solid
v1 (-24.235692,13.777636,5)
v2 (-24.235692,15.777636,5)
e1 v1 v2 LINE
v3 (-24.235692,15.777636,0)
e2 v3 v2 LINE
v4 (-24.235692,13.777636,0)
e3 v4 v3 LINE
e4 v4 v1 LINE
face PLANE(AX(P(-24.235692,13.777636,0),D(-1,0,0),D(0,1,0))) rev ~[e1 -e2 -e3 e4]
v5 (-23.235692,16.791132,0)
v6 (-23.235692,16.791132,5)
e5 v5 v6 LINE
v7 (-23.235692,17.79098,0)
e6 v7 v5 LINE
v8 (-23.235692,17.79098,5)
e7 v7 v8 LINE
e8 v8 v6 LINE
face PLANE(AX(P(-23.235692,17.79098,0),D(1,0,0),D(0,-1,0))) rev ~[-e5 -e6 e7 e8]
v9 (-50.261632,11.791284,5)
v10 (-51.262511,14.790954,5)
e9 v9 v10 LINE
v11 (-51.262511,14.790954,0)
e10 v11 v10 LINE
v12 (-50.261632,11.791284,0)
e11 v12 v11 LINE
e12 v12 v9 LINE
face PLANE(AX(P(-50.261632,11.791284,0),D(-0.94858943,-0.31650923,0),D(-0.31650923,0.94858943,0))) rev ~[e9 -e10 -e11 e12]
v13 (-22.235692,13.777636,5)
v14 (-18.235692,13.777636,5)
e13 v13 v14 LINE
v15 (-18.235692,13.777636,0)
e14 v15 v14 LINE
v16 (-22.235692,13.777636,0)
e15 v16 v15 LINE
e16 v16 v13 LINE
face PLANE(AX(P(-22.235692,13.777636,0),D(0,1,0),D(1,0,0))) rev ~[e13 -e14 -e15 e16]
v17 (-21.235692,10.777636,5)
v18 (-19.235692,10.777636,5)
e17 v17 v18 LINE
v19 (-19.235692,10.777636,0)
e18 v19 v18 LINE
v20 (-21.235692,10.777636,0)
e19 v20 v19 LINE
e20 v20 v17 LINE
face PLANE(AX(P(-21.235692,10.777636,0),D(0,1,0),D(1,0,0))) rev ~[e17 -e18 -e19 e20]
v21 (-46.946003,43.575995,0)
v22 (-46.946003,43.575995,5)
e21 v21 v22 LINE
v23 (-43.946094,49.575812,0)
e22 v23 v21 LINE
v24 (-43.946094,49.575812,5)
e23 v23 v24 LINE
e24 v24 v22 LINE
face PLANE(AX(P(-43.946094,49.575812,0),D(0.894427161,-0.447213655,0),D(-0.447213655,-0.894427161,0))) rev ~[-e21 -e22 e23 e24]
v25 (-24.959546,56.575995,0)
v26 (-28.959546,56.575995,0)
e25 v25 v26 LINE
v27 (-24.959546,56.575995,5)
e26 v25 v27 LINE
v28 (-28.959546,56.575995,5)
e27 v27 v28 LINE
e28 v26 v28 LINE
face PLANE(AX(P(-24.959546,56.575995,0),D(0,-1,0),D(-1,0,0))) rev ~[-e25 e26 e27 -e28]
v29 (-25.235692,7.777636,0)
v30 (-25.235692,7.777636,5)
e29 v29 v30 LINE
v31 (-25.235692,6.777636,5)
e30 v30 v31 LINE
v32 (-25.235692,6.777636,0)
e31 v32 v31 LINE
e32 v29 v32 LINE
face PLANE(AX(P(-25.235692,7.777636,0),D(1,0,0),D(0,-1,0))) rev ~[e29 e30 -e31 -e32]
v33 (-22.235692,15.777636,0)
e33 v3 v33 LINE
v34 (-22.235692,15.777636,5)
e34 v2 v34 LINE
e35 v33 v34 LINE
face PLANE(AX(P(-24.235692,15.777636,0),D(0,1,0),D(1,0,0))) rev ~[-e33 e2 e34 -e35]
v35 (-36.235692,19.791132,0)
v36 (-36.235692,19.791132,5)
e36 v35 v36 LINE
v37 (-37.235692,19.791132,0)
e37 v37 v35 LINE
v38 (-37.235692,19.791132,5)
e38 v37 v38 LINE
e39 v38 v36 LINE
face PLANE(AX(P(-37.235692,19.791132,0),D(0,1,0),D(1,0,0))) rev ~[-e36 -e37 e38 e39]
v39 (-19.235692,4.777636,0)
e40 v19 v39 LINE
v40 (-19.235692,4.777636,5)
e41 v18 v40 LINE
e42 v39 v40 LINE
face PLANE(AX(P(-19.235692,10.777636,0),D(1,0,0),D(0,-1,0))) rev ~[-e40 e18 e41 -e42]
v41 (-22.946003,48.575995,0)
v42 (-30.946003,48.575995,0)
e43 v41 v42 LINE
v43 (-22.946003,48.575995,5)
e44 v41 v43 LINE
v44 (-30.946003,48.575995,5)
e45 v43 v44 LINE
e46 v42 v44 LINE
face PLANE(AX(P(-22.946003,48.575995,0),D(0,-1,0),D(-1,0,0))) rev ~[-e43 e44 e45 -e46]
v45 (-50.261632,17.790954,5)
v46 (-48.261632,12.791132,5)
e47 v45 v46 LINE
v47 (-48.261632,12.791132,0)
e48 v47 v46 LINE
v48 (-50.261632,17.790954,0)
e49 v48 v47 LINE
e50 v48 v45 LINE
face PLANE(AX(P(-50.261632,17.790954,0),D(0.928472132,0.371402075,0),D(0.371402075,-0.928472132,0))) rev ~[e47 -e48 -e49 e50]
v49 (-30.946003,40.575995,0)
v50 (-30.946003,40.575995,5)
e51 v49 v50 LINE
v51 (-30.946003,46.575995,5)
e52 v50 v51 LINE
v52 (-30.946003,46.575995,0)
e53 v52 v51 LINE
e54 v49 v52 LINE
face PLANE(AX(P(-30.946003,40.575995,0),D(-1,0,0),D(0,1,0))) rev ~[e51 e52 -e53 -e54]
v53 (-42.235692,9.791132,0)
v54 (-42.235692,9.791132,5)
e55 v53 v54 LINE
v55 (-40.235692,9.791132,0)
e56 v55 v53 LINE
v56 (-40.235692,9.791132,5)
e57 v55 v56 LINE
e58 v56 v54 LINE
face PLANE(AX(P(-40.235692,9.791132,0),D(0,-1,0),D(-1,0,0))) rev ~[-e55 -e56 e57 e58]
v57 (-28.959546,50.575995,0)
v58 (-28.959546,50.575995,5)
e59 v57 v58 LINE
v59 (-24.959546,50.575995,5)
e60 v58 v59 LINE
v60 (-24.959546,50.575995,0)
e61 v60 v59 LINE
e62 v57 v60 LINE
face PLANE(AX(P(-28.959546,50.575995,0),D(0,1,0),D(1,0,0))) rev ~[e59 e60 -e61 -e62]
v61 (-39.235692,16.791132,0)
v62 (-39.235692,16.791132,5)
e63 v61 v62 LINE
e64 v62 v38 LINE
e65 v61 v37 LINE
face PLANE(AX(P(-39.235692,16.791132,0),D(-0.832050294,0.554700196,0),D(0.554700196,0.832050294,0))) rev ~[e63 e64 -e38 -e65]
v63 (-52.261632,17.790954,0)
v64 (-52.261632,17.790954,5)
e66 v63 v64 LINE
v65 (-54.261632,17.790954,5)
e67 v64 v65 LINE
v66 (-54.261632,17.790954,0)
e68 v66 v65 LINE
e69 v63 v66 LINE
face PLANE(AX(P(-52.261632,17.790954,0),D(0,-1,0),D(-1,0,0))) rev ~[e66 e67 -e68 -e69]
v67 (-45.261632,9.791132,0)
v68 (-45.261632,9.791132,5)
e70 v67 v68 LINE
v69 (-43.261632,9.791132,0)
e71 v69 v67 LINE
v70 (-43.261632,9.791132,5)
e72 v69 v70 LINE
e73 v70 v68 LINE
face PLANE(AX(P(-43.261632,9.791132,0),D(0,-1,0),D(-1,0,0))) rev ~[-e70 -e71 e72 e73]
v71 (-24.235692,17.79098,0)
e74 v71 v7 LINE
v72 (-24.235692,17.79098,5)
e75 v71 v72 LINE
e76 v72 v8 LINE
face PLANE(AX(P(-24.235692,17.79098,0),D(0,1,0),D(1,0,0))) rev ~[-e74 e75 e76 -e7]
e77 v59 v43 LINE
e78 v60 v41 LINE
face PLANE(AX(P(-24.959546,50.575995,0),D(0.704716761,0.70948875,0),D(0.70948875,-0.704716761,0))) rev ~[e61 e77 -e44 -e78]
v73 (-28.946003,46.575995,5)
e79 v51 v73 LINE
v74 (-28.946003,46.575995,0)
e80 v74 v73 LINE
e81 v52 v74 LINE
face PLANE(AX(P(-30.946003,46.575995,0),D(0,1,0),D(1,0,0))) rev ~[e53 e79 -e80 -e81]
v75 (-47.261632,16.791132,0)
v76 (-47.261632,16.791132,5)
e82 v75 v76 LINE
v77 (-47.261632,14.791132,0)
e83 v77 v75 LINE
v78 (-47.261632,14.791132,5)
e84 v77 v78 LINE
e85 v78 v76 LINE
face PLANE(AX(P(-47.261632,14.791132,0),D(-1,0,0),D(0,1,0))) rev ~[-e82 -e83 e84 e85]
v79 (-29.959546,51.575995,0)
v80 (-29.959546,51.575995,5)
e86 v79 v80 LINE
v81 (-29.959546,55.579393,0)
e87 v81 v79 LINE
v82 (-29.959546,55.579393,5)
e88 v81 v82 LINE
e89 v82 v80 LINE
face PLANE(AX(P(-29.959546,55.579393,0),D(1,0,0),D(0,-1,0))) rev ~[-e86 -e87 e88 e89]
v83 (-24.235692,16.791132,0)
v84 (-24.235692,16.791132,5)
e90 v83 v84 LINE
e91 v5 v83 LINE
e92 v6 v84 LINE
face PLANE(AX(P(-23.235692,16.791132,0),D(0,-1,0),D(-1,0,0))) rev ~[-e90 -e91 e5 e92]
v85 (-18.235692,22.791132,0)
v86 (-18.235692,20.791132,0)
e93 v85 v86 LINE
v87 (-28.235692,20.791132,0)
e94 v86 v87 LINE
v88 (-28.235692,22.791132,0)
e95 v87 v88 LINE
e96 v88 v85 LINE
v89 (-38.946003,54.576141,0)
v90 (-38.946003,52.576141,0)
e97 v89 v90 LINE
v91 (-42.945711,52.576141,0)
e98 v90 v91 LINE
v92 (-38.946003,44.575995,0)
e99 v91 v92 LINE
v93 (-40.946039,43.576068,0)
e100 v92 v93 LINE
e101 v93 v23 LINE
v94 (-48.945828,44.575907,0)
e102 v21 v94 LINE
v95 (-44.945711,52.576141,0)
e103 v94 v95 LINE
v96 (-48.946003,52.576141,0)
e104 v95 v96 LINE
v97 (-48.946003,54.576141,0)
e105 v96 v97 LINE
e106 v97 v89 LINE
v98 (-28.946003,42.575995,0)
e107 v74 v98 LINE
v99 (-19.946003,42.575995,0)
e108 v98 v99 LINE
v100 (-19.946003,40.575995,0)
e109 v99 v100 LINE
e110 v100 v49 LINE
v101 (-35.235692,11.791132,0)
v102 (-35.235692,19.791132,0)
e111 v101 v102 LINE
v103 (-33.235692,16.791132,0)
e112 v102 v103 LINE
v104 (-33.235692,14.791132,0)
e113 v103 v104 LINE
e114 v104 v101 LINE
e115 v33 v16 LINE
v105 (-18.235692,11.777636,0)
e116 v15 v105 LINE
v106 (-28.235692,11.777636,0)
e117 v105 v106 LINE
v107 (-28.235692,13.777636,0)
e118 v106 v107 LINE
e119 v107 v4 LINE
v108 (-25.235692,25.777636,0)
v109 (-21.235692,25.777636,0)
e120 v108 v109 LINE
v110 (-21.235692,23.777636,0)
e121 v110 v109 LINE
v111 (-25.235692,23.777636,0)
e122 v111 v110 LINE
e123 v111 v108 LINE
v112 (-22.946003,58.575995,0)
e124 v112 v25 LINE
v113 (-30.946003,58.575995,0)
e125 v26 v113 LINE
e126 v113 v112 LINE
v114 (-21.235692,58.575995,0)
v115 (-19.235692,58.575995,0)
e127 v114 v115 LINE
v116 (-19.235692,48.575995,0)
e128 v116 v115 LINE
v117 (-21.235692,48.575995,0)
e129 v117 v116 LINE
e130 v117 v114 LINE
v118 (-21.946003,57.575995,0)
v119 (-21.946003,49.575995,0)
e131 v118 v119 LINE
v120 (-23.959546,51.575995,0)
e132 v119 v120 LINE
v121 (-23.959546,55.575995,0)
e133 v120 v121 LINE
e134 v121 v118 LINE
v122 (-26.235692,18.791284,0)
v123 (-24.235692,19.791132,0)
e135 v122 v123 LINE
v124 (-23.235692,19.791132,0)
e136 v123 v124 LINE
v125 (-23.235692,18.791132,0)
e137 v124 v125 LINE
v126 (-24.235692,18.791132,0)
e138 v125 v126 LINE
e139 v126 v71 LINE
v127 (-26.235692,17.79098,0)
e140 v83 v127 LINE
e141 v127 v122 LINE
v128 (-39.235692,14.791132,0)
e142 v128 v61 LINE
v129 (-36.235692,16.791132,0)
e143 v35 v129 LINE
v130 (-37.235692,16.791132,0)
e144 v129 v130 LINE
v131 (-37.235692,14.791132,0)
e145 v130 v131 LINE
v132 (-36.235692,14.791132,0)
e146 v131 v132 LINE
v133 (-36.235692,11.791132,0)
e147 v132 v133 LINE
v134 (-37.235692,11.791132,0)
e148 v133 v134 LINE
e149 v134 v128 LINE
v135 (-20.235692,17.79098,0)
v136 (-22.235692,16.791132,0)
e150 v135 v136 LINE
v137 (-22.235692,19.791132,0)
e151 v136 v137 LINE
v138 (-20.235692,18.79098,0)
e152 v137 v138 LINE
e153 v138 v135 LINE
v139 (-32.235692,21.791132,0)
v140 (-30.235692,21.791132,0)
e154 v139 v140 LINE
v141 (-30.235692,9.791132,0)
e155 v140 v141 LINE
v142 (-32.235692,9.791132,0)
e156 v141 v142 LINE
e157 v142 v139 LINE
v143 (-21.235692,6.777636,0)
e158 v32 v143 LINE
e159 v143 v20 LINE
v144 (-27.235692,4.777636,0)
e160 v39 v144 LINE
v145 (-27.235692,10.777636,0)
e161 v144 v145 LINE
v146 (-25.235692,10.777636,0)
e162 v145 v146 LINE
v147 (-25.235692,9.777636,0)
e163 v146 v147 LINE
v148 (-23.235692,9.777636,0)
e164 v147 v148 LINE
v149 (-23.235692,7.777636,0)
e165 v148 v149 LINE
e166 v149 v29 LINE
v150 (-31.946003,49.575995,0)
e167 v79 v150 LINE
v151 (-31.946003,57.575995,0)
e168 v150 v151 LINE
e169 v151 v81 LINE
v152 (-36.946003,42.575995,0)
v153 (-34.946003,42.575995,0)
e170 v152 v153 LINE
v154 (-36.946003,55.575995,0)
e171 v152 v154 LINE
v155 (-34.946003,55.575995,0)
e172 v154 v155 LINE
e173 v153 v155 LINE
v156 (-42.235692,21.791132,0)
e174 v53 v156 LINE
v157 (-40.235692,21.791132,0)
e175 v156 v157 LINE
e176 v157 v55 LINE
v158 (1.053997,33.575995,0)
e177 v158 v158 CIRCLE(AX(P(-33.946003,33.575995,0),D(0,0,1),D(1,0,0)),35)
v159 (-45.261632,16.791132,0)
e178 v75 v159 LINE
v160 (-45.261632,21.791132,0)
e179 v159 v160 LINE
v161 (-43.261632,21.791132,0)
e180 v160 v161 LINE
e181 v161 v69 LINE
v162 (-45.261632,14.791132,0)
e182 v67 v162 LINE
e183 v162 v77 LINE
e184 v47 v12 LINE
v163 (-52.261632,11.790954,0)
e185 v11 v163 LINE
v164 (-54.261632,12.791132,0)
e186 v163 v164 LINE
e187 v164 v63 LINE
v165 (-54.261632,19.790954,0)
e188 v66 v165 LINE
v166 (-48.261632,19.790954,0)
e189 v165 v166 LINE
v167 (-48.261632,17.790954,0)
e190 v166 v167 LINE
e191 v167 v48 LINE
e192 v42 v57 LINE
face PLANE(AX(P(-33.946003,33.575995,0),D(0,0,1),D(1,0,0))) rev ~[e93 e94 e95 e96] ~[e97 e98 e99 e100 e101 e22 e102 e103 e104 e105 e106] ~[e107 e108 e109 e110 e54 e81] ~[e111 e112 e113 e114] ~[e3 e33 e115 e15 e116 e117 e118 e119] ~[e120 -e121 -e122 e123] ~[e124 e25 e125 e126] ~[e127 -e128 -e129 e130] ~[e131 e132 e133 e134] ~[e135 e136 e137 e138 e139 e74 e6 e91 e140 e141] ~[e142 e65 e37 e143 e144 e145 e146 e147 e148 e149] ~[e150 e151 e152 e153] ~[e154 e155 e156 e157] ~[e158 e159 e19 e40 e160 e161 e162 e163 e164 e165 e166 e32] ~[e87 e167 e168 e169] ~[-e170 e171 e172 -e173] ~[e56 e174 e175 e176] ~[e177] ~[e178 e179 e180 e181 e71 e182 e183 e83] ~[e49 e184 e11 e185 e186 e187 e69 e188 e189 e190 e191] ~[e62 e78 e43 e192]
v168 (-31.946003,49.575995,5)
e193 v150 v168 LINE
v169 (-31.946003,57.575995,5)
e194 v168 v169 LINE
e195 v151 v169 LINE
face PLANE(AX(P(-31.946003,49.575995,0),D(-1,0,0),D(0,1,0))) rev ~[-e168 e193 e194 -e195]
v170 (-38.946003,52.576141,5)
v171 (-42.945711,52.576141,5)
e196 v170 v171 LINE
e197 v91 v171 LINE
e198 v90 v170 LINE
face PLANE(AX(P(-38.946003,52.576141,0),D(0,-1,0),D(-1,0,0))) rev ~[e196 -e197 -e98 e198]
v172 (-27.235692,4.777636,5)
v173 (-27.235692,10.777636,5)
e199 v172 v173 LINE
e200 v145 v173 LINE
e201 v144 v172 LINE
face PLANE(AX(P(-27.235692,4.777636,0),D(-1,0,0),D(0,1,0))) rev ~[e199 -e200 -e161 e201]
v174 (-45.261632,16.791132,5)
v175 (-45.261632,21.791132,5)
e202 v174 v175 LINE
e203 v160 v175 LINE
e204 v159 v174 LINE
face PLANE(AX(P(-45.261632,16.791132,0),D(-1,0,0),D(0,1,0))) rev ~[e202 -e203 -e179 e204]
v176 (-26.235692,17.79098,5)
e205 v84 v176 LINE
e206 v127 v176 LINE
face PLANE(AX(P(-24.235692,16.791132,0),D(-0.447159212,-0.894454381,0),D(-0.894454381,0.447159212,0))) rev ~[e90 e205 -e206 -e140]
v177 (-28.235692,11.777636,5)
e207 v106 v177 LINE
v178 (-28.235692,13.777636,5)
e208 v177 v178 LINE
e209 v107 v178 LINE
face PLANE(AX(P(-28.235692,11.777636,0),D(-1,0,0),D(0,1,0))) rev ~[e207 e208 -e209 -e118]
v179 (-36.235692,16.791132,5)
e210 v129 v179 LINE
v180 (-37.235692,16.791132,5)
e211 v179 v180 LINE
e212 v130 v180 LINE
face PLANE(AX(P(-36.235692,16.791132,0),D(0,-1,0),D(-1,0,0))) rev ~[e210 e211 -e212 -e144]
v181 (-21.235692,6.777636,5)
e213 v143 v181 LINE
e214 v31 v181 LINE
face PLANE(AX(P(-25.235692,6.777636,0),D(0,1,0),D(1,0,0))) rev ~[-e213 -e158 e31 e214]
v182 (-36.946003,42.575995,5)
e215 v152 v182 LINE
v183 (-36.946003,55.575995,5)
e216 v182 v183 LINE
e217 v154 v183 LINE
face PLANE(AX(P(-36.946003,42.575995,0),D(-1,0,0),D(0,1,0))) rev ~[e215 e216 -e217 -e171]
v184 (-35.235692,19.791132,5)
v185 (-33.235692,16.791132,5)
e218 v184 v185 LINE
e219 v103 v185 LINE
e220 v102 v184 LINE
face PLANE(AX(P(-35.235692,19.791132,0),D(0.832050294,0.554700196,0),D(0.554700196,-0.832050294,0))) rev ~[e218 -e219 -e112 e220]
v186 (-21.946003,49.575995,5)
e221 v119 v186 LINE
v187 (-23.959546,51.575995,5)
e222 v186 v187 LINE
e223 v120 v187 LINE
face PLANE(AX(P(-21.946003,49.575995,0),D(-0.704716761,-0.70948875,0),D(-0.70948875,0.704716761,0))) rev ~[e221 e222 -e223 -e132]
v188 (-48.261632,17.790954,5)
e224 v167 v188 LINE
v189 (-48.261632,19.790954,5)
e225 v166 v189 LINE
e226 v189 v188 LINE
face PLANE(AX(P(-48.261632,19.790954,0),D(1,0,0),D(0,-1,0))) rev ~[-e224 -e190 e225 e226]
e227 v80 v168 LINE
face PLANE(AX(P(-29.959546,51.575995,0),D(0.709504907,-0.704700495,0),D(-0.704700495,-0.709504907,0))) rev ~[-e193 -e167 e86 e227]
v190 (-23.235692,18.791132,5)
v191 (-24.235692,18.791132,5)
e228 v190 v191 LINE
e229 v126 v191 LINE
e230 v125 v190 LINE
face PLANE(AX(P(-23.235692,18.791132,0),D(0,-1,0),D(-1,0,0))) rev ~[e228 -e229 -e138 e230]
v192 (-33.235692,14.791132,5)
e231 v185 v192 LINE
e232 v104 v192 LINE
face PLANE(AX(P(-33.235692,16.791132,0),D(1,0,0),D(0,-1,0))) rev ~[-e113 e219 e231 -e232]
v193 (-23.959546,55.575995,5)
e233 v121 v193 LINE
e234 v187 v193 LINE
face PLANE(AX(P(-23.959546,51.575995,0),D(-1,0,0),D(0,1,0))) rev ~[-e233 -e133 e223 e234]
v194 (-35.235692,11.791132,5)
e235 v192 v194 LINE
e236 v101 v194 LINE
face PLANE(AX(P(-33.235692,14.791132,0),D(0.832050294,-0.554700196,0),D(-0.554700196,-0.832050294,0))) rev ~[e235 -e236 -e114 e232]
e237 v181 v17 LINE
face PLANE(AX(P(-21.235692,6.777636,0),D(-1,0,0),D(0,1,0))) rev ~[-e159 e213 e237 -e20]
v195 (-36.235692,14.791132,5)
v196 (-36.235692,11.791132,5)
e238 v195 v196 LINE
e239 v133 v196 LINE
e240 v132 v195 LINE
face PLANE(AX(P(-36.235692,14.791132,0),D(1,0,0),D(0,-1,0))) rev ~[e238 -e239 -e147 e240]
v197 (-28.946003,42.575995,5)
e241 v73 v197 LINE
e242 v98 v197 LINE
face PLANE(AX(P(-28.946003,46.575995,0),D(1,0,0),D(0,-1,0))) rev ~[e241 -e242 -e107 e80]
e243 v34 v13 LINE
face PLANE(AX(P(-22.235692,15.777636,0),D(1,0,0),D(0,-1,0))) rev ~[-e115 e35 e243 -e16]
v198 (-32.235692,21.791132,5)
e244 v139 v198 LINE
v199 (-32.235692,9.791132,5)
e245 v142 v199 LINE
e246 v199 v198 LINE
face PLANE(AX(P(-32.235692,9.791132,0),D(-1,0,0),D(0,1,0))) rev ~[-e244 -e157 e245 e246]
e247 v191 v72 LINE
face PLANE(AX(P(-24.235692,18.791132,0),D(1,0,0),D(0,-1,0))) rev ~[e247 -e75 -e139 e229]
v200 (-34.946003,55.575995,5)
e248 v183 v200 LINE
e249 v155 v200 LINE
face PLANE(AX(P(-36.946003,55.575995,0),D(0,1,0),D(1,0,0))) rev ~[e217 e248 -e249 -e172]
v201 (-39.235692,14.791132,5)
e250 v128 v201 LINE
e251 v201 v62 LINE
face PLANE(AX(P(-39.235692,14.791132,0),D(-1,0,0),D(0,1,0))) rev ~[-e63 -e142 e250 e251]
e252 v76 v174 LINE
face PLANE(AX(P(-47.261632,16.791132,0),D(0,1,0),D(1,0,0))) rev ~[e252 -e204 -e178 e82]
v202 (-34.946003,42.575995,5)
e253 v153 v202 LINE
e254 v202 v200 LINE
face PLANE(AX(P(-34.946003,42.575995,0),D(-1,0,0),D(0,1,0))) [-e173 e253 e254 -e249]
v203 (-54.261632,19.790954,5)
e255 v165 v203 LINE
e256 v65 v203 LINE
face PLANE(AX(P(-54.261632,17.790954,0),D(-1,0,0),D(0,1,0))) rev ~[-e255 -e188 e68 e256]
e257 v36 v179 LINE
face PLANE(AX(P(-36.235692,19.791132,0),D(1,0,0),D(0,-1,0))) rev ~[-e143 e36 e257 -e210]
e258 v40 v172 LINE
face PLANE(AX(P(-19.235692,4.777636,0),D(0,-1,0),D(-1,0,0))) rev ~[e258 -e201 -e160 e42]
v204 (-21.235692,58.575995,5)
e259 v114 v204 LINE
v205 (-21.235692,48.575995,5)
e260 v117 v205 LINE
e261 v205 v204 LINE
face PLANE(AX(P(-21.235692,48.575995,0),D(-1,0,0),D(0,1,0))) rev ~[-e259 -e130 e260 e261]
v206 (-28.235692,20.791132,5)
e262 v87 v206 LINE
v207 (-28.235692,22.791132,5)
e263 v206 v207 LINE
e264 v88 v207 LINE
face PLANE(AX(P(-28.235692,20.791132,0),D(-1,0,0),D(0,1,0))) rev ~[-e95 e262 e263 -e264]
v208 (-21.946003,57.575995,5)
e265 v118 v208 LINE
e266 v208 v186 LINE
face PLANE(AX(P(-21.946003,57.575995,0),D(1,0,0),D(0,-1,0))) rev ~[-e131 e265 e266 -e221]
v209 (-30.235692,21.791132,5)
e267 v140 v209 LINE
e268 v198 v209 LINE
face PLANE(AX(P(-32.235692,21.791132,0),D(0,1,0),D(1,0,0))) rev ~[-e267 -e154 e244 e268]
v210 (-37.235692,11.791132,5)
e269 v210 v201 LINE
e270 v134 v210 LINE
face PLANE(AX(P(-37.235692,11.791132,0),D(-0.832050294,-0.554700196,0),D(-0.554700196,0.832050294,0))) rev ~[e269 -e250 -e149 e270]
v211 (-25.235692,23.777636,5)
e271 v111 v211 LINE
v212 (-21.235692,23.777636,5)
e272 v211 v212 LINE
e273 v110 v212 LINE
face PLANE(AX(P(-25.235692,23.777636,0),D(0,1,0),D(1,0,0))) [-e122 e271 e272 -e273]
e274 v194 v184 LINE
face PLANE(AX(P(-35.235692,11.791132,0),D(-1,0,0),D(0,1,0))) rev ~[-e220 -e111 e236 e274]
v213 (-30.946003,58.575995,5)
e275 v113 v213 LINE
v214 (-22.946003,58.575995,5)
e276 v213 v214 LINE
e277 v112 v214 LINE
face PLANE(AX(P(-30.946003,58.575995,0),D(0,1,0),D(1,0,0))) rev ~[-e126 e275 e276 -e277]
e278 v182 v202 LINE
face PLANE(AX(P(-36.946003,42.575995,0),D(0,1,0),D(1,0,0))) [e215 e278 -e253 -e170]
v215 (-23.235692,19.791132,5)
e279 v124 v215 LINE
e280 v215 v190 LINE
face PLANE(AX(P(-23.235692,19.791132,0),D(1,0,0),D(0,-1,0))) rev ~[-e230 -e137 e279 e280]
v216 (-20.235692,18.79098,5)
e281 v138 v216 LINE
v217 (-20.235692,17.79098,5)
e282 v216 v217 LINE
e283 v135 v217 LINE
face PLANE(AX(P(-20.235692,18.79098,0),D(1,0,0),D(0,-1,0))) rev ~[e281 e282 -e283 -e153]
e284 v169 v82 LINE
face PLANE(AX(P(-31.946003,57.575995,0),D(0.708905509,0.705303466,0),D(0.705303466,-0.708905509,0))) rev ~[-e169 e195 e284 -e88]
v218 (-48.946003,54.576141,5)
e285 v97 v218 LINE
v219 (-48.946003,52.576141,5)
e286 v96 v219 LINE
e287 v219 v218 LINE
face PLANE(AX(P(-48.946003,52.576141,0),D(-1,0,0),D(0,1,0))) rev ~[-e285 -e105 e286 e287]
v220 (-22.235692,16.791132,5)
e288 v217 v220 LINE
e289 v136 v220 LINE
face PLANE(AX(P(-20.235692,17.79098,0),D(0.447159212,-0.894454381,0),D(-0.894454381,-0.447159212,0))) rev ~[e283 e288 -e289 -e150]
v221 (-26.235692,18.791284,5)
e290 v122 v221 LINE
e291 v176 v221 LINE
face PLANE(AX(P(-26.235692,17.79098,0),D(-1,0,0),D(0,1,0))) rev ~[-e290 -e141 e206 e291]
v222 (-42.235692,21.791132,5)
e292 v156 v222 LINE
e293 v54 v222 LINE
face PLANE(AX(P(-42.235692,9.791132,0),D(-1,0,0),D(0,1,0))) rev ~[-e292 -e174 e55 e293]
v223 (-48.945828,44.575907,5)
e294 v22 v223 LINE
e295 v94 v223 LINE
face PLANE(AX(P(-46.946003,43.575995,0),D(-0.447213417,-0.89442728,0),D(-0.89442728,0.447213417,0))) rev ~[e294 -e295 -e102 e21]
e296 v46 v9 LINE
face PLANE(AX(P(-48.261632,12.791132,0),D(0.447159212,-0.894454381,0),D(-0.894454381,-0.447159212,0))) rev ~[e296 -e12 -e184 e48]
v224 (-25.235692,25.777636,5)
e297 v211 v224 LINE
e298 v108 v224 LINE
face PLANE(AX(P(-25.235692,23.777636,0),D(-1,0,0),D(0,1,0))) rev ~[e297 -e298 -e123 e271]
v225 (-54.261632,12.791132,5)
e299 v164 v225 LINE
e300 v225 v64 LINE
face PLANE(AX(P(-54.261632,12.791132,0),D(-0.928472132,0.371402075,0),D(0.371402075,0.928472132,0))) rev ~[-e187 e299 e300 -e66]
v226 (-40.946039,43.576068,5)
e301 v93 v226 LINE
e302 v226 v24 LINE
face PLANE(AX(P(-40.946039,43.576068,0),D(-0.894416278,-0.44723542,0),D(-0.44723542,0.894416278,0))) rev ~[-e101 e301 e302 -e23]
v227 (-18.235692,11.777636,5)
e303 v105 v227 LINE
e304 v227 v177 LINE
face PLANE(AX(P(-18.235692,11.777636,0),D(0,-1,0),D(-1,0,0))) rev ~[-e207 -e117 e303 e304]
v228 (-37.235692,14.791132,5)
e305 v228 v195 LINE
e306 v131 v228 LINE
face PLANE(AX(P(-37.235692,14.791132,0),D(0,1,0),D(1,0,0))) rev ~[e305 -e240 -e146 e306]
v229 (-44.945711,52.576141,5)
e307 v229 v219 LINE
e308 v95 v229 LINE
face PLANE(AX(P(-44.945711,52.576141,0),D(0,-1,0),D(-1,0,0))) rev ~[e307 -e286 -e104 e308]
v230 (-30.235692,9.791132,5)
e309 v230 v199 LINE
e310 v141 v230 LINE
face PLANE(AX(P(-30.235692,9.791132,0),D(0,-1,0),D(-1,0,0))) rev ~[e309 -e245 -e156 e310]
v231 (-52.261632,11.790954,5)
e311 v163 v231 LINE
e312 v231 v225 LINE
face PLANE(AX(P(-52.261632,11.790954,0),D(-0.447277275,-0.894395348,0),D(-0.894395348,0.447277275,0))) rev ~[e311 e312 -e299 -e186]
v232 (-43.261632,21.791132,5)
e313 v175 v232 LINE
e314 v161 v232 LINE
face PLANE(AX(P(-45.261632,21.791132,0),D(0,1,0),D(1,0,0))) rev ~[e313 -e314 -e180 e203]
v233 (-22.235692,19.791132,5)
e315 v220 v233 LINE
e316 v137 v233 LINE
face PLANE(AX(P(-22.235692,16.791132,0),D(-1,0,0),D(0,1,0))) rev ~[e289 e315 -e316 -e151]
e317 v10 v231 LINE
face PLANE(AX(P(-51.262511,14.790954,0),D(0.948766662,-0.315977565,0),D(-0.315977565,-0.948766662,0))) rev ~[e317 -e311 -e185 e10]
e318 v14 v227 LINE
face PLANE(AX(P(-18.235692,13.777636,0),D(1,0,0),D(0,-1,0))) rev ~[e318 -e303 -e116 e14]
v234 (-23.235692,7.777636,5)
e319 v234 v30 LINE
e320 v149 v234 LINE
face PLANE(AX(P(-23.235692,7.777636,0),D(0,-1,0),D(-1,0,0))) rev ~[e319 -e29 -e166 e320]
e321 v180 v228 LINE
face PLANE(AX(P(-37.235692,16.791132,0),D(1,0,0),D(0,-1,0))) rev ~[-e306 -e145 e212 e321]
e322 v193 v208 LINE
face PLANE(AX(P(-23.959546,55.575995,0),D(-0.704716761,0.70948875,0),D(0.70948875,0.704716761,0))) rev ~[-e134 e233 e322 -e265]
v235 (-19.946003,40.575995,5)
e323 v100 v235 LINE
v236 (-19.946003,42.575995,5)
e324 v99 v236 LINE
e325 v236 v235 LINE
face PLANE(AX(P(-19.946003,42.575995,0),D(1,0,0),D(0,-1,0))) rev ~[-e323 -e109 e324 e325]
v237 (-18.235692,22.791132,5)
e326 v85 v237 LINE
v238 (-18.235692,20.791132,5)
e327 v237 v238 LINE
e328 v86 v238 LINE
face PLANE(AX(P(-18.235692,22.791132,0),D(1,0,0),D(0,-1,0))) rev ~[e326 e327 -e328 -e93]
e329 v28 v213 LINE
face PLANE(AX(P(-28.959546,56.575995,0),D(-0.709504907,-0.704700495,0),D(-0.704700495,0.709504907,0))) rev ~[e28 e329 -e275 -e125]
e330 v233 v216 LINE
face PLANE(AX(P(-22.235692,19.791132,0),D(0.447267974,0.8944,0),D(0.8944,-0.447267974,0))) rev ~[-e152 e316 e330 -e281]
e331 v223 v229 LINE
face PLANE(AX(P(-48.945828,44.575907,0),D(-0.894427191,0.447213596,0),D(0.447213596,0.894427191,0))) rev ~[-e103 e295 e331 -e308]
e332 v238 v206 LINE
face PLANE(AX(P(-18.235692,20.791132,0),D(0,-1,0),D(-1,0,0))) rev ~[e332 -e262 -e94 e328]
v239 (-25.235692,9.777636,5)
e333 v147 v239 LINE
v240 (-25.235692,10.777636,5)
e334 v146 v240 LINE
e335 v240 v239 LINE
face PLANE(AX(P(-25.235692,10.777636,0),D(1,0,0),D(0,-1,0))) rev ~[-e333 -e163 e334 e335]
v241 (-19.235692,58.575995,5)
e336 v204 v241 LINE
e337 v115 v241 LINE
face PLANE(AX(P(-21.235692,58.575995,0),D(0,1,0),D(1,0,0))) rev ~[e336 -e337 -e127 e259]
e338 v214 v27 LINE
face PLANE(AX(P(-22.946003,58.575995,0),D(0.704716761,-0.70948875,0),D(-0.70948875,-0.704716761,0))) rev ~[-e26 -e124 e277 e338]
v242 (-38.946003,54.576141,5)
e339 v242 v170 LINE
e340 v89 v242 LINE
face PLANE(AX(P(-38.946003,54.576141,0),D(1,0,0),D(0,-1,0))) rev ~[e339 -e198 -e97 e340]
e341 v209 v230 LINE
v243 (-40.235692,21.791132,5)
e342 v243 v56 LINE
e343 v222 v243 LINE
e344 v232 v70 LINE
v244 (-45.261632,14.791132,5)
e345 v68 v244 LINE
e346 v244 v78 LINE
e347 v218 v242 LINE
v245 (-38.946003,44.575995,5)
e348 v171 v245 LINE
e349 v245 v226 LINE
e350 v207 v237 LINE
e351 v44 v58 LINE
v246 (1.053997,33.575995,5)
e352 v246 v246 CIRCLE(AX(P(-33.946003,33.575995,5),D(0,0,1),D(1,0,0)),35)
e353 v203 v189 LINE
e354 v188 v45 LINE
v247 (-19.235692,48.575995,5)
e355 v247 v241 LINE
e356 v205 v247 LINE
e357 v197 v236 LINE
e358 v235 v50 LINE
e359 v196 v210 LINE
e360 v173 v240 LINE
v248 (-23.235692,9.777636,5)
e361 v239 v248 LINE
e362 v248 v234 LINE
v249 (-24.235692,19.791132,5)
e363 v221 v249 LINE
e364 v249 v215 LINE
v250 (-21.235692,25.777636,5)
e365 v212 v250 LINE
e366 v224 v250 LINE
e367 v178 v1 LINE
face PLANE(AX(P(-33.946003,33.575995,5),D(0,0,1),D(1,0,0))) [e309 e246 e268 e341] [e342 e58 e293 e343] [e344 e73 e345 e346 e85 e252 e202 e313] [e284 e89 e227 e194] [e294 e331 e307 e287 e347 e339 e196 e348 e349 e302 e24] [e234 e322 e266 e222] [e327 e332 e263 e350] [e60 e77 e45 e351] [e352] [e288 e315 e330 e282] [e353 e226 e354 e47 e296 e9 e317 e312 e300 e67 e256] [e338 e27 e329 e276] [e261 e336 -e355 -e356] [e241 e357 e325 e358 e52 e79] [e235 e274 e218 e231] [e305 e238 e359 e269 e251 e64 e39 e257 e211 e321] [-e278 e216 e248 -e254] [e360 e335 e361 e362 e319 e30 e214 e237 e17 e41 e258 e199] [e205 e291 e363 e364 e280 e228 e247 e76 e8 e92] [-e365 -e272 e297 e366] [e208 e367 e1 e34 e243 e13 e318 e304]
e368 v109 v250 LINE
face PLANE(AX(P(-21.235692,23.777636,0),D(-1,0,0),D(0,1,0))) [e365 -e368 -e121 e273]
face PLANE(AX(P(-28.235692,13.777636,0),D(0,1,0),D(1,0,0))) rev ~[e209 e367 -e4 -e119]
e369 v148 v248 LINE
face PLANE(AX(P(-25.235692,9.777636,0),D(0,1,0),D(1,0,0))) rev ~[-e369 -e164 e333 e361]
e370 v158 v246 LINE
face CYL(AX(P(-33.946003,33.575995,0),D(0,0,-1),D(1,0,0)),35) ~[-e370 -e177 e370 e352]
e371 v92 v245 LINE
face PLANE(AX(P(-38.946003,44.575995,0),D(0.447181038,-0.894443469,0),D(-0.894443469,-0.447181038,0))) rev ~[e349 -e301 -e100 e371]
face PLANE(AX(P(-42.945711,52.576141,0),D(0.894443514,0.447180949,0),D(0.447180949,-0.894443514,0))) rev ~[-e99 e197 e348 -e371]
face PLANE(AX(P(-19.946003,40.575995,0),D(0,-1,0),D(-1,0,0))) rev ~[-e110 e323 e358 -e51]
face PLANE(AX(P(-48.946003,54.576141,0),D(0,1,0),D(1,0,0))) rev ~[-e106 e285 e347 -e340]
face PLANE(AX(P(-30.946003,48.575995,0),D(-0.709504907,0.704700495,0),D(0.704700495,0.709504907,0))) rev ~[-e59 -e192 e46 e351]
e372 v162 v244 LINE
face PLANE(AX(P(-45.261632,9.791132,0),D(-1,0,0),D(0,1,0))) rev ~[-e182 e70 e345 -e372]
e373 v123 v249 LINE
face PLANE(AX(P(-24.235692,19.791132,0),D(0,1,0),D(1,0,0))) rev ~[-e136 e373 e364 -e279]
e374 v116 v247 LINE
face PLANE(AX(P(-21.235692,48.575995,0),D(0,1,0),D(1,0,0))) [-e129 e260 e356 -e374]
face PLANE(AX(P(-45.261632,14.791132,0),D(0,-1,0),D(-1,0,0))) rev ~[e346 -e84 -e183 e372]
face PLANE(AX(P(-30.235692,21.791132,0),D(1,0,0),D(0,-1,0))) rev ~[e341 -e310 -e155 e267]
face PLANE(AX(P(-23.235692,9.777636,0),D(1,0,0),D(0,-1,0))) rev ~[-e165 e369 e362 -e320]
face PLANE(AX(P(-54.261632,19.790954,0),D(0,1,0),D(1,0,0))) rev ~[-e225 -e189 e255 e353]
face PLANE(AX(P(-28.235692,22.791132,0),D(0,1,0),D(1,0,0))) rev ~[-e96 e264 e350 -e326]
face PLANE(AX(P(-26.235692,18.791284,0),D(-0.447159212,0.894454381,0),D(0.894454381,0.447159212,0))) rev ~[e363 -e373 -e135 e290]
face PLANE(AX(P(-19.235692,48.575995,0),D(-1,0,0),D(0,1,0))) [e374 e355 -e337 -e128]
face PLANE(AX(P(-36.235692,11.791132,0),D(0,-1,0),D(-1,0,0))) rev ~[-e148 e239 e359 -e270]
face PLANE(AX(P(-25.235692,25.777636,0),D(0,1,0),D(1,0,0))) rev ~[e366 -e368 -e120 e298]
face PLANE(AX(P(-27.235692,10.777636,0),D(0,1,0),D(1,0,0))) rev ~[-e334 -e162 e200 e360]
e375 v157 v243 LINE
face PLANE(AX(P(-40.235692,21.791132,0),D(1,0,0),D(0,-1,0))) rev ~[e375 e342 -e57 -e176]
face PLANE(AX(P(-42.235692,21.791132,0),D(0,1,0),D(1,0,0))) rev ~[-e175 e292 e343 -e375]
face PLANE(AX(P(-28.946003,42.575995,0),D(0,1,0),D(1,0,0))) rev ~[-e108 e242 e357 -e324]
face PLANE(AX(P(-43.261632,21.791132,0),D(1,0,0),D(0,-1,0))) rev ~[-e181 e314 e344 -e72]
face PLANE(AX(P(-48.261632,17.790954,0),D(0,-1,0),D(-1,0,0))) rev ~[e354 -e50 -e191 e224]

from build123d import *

# Parameters (mm, degrees)
F0_R     = 35
F0_W     = 4
F0_H     = 2
F0_W_2   = 2
F0_H_2   = 13
F0_H_3   = 10
F1_DEPTH = 5


with BuildPart() as f1:
    # F0 (on Top) → F1 (new body)
    with BuildSketch(Plane.XY):
        with Locations((-33.946003, 33.575995)):
            Circle(F0_R)
        Polygon((-54.261632, 19.790954), (-48.261632, 19.790954), (-48.261632, 17.790954), (-50.261632, 17.790954), (-48.261632, 12.791132), (-50.261632, 11.791284), (-51.262511, 14.790954), (-52.261632, 11.790954), (-54.261632, 12.791132), (-52.261632, 17.790954), (-54.261632, 17.790954), align=None, mode=Mode.SUBTRACT)
        Polygon((-45.261632, 21.791132), (-43.261632, 21.791132), (-43.261632, 9.791132), (-45.261632, 9.791132), (-45.261632, 14.791132), (-47.261632, 14.791132), (-47.261632, 16.791132), (-45.261632, 16.791132), align=None, mode=Mode.SUBTRACT)
        Polygon((-41.261632, 21.791132), (-40.235692, 21.791132), (-40.235692, 9.791132), (-42.235692, 9.791132), (-42.235692, 21.791132), align=None, mode=Mode.SUBTRACT)
        Polygon((-39.235692, 14.791132), (-39.235692, 16.791132), (-37.235692, 19.791132), (-36.235692, 19.791132), (-36.235692, 16.791132), (-37.235692, 16.791132), (-37.235692, 14.791132), (-36.235692, 14.791132), (-36.235692, 11.791132), (-37.235692, 11.791132), align=None, mode=Mode.SUBTRACT)
        Polygon((-35.235692, 11.791132), (-35.235692, 19.791132), (-33.235692, 16.791132), (-33.235692, 14.791132), align=None, mode=Mode.SUBTRACT)
        Polygon((-32.235692, 21.791132), (-30.235692, 21.791132), (-30.235692, 9.791132), (-32.235692, 9.791132), (-32.235692, 11.791132), (-32.235692, 19.791132), align=None, mode=Mode.SUBTRACT)
        Polygon((-27.235692, 4.777636), (-27.235692, 10.777636), (-26.235692, 10.777636), (-25.235692, 10.777636), (-25.235692, 9.777636), (-23.235692, 9.777636), (-23.235692, 7.777636), (-25.235692, 7.777636), (-25.235692, 6.777636), (-21.235692, 6.777636), (-21.235692, 10.777636), (-20.235692, 10.777636), (-19.235692, 10.777636), (-19.235692, 4.777636), align=None, mode=Mode.SUBTRACT)
        Polygon((-18.235692, 11.777636), (-28.235692, 11.777636), (-28.235692, 13.777636), (-24.235692, 13.777636), (-24.235692, 15.777636), (-22.235692, 15.777636), (-22.235692, 13.777636), (-18.235692, 13.777636), align=None, mode=Mode.SUBTRACT)
        Polygon((-23.235692, 16.791132), (-24.235692, 16.791132), (-26.235692, 17.79098), (-26.235692, 18.791284), (-24.235692, 19.791132), (-23.235692, 19.791132), (-23.235692, 18.791132), (-24.235692, 18.791132), (-24.235692, 17.79098), (-23.235692, 17.79098), align=None, mode=Mode.SUBTRACT)
        Polygon((-22.235692, 19.791132), (-20.235692, 18.79098), (-20.235692, 17.79098), (-22.235692, 16.791132), align=None, mode=Mode.SUBTRACT)
        Polygon((-28.235692, 22.791132), (-18.235692, 22.791132), (-18.235692, 20.791132), (-28.235692, 20.791132), (-28.235692, 21.791132), align=None, mode=Mode.SUBTRACT)
        with Locations((-23.235692, 24.777636)):
            Rectangle(F0_W, F0_H, mode=Mode.SUBTRACT)
        Polygon((-48.946003, 52.576141), (-48.946003, 54.576141), (-38.946003, 54.576141), (-38.946003, 52.576141), (-42.945711, 52.576141), (-38.946003, 44.575995), (-40.946039, 43.576068), (-43.946094, 49.575812), (-46.946003, 43.575995), (-48.945828, 44.575907), (-44.945711, 52.576141), align=None, mode=Mode.SUBTRACT)
        with Locations((-35.946003, 49.075995)):
            Rectangle(F0_W_2, F0_H_2, mode=Mode.SUBTRACT)
        Polygon((-30.946003, 40.575995), (-30.946003, 46.575995), (-28.946003, 46.575995), (-28.946003, 42.575995), (-19.946003, 42.575995), (-19.946003, 40.575995), (-28.946003, 40.575995), align=None, mode=Mode.SUBTRACT)
        Polygon((-22.946003, 48.575995), (-30.946003, 48.575995), (-28.959546, 50.575995), (-24.959546, 50.575995), align=None, mode=Mode.SUBTRACT)
        Polygon((-31.946003, 49.575995), (-31.946003, 57.575995), (-29.959546, 55.579393), (-29.959546, 51.575995), align=None, mode=Mode.SUBTRACT)
        Polygon((-28.959546, 56.575995), (-30.946003, 58.575995), (-22.946003, 58.575995), (-24.959546, 56.575995), align=None, mode=Mode.SUBTRACT)
        Polygon((-23.959546, 55.575995), (-21.946003, 57.575995), (-21.946003, 49.575995), (-23.959546, 51.575995), align=None, mode=Mode.SUBTRACT)
        with Locations((-20.235692, 53.575995)):
            Rectangle(F0_W_2, F0_H_3, mode=Mode.SUBTRACT)
    extrude(amount=F1_DEPTH)


solid = f1.part
